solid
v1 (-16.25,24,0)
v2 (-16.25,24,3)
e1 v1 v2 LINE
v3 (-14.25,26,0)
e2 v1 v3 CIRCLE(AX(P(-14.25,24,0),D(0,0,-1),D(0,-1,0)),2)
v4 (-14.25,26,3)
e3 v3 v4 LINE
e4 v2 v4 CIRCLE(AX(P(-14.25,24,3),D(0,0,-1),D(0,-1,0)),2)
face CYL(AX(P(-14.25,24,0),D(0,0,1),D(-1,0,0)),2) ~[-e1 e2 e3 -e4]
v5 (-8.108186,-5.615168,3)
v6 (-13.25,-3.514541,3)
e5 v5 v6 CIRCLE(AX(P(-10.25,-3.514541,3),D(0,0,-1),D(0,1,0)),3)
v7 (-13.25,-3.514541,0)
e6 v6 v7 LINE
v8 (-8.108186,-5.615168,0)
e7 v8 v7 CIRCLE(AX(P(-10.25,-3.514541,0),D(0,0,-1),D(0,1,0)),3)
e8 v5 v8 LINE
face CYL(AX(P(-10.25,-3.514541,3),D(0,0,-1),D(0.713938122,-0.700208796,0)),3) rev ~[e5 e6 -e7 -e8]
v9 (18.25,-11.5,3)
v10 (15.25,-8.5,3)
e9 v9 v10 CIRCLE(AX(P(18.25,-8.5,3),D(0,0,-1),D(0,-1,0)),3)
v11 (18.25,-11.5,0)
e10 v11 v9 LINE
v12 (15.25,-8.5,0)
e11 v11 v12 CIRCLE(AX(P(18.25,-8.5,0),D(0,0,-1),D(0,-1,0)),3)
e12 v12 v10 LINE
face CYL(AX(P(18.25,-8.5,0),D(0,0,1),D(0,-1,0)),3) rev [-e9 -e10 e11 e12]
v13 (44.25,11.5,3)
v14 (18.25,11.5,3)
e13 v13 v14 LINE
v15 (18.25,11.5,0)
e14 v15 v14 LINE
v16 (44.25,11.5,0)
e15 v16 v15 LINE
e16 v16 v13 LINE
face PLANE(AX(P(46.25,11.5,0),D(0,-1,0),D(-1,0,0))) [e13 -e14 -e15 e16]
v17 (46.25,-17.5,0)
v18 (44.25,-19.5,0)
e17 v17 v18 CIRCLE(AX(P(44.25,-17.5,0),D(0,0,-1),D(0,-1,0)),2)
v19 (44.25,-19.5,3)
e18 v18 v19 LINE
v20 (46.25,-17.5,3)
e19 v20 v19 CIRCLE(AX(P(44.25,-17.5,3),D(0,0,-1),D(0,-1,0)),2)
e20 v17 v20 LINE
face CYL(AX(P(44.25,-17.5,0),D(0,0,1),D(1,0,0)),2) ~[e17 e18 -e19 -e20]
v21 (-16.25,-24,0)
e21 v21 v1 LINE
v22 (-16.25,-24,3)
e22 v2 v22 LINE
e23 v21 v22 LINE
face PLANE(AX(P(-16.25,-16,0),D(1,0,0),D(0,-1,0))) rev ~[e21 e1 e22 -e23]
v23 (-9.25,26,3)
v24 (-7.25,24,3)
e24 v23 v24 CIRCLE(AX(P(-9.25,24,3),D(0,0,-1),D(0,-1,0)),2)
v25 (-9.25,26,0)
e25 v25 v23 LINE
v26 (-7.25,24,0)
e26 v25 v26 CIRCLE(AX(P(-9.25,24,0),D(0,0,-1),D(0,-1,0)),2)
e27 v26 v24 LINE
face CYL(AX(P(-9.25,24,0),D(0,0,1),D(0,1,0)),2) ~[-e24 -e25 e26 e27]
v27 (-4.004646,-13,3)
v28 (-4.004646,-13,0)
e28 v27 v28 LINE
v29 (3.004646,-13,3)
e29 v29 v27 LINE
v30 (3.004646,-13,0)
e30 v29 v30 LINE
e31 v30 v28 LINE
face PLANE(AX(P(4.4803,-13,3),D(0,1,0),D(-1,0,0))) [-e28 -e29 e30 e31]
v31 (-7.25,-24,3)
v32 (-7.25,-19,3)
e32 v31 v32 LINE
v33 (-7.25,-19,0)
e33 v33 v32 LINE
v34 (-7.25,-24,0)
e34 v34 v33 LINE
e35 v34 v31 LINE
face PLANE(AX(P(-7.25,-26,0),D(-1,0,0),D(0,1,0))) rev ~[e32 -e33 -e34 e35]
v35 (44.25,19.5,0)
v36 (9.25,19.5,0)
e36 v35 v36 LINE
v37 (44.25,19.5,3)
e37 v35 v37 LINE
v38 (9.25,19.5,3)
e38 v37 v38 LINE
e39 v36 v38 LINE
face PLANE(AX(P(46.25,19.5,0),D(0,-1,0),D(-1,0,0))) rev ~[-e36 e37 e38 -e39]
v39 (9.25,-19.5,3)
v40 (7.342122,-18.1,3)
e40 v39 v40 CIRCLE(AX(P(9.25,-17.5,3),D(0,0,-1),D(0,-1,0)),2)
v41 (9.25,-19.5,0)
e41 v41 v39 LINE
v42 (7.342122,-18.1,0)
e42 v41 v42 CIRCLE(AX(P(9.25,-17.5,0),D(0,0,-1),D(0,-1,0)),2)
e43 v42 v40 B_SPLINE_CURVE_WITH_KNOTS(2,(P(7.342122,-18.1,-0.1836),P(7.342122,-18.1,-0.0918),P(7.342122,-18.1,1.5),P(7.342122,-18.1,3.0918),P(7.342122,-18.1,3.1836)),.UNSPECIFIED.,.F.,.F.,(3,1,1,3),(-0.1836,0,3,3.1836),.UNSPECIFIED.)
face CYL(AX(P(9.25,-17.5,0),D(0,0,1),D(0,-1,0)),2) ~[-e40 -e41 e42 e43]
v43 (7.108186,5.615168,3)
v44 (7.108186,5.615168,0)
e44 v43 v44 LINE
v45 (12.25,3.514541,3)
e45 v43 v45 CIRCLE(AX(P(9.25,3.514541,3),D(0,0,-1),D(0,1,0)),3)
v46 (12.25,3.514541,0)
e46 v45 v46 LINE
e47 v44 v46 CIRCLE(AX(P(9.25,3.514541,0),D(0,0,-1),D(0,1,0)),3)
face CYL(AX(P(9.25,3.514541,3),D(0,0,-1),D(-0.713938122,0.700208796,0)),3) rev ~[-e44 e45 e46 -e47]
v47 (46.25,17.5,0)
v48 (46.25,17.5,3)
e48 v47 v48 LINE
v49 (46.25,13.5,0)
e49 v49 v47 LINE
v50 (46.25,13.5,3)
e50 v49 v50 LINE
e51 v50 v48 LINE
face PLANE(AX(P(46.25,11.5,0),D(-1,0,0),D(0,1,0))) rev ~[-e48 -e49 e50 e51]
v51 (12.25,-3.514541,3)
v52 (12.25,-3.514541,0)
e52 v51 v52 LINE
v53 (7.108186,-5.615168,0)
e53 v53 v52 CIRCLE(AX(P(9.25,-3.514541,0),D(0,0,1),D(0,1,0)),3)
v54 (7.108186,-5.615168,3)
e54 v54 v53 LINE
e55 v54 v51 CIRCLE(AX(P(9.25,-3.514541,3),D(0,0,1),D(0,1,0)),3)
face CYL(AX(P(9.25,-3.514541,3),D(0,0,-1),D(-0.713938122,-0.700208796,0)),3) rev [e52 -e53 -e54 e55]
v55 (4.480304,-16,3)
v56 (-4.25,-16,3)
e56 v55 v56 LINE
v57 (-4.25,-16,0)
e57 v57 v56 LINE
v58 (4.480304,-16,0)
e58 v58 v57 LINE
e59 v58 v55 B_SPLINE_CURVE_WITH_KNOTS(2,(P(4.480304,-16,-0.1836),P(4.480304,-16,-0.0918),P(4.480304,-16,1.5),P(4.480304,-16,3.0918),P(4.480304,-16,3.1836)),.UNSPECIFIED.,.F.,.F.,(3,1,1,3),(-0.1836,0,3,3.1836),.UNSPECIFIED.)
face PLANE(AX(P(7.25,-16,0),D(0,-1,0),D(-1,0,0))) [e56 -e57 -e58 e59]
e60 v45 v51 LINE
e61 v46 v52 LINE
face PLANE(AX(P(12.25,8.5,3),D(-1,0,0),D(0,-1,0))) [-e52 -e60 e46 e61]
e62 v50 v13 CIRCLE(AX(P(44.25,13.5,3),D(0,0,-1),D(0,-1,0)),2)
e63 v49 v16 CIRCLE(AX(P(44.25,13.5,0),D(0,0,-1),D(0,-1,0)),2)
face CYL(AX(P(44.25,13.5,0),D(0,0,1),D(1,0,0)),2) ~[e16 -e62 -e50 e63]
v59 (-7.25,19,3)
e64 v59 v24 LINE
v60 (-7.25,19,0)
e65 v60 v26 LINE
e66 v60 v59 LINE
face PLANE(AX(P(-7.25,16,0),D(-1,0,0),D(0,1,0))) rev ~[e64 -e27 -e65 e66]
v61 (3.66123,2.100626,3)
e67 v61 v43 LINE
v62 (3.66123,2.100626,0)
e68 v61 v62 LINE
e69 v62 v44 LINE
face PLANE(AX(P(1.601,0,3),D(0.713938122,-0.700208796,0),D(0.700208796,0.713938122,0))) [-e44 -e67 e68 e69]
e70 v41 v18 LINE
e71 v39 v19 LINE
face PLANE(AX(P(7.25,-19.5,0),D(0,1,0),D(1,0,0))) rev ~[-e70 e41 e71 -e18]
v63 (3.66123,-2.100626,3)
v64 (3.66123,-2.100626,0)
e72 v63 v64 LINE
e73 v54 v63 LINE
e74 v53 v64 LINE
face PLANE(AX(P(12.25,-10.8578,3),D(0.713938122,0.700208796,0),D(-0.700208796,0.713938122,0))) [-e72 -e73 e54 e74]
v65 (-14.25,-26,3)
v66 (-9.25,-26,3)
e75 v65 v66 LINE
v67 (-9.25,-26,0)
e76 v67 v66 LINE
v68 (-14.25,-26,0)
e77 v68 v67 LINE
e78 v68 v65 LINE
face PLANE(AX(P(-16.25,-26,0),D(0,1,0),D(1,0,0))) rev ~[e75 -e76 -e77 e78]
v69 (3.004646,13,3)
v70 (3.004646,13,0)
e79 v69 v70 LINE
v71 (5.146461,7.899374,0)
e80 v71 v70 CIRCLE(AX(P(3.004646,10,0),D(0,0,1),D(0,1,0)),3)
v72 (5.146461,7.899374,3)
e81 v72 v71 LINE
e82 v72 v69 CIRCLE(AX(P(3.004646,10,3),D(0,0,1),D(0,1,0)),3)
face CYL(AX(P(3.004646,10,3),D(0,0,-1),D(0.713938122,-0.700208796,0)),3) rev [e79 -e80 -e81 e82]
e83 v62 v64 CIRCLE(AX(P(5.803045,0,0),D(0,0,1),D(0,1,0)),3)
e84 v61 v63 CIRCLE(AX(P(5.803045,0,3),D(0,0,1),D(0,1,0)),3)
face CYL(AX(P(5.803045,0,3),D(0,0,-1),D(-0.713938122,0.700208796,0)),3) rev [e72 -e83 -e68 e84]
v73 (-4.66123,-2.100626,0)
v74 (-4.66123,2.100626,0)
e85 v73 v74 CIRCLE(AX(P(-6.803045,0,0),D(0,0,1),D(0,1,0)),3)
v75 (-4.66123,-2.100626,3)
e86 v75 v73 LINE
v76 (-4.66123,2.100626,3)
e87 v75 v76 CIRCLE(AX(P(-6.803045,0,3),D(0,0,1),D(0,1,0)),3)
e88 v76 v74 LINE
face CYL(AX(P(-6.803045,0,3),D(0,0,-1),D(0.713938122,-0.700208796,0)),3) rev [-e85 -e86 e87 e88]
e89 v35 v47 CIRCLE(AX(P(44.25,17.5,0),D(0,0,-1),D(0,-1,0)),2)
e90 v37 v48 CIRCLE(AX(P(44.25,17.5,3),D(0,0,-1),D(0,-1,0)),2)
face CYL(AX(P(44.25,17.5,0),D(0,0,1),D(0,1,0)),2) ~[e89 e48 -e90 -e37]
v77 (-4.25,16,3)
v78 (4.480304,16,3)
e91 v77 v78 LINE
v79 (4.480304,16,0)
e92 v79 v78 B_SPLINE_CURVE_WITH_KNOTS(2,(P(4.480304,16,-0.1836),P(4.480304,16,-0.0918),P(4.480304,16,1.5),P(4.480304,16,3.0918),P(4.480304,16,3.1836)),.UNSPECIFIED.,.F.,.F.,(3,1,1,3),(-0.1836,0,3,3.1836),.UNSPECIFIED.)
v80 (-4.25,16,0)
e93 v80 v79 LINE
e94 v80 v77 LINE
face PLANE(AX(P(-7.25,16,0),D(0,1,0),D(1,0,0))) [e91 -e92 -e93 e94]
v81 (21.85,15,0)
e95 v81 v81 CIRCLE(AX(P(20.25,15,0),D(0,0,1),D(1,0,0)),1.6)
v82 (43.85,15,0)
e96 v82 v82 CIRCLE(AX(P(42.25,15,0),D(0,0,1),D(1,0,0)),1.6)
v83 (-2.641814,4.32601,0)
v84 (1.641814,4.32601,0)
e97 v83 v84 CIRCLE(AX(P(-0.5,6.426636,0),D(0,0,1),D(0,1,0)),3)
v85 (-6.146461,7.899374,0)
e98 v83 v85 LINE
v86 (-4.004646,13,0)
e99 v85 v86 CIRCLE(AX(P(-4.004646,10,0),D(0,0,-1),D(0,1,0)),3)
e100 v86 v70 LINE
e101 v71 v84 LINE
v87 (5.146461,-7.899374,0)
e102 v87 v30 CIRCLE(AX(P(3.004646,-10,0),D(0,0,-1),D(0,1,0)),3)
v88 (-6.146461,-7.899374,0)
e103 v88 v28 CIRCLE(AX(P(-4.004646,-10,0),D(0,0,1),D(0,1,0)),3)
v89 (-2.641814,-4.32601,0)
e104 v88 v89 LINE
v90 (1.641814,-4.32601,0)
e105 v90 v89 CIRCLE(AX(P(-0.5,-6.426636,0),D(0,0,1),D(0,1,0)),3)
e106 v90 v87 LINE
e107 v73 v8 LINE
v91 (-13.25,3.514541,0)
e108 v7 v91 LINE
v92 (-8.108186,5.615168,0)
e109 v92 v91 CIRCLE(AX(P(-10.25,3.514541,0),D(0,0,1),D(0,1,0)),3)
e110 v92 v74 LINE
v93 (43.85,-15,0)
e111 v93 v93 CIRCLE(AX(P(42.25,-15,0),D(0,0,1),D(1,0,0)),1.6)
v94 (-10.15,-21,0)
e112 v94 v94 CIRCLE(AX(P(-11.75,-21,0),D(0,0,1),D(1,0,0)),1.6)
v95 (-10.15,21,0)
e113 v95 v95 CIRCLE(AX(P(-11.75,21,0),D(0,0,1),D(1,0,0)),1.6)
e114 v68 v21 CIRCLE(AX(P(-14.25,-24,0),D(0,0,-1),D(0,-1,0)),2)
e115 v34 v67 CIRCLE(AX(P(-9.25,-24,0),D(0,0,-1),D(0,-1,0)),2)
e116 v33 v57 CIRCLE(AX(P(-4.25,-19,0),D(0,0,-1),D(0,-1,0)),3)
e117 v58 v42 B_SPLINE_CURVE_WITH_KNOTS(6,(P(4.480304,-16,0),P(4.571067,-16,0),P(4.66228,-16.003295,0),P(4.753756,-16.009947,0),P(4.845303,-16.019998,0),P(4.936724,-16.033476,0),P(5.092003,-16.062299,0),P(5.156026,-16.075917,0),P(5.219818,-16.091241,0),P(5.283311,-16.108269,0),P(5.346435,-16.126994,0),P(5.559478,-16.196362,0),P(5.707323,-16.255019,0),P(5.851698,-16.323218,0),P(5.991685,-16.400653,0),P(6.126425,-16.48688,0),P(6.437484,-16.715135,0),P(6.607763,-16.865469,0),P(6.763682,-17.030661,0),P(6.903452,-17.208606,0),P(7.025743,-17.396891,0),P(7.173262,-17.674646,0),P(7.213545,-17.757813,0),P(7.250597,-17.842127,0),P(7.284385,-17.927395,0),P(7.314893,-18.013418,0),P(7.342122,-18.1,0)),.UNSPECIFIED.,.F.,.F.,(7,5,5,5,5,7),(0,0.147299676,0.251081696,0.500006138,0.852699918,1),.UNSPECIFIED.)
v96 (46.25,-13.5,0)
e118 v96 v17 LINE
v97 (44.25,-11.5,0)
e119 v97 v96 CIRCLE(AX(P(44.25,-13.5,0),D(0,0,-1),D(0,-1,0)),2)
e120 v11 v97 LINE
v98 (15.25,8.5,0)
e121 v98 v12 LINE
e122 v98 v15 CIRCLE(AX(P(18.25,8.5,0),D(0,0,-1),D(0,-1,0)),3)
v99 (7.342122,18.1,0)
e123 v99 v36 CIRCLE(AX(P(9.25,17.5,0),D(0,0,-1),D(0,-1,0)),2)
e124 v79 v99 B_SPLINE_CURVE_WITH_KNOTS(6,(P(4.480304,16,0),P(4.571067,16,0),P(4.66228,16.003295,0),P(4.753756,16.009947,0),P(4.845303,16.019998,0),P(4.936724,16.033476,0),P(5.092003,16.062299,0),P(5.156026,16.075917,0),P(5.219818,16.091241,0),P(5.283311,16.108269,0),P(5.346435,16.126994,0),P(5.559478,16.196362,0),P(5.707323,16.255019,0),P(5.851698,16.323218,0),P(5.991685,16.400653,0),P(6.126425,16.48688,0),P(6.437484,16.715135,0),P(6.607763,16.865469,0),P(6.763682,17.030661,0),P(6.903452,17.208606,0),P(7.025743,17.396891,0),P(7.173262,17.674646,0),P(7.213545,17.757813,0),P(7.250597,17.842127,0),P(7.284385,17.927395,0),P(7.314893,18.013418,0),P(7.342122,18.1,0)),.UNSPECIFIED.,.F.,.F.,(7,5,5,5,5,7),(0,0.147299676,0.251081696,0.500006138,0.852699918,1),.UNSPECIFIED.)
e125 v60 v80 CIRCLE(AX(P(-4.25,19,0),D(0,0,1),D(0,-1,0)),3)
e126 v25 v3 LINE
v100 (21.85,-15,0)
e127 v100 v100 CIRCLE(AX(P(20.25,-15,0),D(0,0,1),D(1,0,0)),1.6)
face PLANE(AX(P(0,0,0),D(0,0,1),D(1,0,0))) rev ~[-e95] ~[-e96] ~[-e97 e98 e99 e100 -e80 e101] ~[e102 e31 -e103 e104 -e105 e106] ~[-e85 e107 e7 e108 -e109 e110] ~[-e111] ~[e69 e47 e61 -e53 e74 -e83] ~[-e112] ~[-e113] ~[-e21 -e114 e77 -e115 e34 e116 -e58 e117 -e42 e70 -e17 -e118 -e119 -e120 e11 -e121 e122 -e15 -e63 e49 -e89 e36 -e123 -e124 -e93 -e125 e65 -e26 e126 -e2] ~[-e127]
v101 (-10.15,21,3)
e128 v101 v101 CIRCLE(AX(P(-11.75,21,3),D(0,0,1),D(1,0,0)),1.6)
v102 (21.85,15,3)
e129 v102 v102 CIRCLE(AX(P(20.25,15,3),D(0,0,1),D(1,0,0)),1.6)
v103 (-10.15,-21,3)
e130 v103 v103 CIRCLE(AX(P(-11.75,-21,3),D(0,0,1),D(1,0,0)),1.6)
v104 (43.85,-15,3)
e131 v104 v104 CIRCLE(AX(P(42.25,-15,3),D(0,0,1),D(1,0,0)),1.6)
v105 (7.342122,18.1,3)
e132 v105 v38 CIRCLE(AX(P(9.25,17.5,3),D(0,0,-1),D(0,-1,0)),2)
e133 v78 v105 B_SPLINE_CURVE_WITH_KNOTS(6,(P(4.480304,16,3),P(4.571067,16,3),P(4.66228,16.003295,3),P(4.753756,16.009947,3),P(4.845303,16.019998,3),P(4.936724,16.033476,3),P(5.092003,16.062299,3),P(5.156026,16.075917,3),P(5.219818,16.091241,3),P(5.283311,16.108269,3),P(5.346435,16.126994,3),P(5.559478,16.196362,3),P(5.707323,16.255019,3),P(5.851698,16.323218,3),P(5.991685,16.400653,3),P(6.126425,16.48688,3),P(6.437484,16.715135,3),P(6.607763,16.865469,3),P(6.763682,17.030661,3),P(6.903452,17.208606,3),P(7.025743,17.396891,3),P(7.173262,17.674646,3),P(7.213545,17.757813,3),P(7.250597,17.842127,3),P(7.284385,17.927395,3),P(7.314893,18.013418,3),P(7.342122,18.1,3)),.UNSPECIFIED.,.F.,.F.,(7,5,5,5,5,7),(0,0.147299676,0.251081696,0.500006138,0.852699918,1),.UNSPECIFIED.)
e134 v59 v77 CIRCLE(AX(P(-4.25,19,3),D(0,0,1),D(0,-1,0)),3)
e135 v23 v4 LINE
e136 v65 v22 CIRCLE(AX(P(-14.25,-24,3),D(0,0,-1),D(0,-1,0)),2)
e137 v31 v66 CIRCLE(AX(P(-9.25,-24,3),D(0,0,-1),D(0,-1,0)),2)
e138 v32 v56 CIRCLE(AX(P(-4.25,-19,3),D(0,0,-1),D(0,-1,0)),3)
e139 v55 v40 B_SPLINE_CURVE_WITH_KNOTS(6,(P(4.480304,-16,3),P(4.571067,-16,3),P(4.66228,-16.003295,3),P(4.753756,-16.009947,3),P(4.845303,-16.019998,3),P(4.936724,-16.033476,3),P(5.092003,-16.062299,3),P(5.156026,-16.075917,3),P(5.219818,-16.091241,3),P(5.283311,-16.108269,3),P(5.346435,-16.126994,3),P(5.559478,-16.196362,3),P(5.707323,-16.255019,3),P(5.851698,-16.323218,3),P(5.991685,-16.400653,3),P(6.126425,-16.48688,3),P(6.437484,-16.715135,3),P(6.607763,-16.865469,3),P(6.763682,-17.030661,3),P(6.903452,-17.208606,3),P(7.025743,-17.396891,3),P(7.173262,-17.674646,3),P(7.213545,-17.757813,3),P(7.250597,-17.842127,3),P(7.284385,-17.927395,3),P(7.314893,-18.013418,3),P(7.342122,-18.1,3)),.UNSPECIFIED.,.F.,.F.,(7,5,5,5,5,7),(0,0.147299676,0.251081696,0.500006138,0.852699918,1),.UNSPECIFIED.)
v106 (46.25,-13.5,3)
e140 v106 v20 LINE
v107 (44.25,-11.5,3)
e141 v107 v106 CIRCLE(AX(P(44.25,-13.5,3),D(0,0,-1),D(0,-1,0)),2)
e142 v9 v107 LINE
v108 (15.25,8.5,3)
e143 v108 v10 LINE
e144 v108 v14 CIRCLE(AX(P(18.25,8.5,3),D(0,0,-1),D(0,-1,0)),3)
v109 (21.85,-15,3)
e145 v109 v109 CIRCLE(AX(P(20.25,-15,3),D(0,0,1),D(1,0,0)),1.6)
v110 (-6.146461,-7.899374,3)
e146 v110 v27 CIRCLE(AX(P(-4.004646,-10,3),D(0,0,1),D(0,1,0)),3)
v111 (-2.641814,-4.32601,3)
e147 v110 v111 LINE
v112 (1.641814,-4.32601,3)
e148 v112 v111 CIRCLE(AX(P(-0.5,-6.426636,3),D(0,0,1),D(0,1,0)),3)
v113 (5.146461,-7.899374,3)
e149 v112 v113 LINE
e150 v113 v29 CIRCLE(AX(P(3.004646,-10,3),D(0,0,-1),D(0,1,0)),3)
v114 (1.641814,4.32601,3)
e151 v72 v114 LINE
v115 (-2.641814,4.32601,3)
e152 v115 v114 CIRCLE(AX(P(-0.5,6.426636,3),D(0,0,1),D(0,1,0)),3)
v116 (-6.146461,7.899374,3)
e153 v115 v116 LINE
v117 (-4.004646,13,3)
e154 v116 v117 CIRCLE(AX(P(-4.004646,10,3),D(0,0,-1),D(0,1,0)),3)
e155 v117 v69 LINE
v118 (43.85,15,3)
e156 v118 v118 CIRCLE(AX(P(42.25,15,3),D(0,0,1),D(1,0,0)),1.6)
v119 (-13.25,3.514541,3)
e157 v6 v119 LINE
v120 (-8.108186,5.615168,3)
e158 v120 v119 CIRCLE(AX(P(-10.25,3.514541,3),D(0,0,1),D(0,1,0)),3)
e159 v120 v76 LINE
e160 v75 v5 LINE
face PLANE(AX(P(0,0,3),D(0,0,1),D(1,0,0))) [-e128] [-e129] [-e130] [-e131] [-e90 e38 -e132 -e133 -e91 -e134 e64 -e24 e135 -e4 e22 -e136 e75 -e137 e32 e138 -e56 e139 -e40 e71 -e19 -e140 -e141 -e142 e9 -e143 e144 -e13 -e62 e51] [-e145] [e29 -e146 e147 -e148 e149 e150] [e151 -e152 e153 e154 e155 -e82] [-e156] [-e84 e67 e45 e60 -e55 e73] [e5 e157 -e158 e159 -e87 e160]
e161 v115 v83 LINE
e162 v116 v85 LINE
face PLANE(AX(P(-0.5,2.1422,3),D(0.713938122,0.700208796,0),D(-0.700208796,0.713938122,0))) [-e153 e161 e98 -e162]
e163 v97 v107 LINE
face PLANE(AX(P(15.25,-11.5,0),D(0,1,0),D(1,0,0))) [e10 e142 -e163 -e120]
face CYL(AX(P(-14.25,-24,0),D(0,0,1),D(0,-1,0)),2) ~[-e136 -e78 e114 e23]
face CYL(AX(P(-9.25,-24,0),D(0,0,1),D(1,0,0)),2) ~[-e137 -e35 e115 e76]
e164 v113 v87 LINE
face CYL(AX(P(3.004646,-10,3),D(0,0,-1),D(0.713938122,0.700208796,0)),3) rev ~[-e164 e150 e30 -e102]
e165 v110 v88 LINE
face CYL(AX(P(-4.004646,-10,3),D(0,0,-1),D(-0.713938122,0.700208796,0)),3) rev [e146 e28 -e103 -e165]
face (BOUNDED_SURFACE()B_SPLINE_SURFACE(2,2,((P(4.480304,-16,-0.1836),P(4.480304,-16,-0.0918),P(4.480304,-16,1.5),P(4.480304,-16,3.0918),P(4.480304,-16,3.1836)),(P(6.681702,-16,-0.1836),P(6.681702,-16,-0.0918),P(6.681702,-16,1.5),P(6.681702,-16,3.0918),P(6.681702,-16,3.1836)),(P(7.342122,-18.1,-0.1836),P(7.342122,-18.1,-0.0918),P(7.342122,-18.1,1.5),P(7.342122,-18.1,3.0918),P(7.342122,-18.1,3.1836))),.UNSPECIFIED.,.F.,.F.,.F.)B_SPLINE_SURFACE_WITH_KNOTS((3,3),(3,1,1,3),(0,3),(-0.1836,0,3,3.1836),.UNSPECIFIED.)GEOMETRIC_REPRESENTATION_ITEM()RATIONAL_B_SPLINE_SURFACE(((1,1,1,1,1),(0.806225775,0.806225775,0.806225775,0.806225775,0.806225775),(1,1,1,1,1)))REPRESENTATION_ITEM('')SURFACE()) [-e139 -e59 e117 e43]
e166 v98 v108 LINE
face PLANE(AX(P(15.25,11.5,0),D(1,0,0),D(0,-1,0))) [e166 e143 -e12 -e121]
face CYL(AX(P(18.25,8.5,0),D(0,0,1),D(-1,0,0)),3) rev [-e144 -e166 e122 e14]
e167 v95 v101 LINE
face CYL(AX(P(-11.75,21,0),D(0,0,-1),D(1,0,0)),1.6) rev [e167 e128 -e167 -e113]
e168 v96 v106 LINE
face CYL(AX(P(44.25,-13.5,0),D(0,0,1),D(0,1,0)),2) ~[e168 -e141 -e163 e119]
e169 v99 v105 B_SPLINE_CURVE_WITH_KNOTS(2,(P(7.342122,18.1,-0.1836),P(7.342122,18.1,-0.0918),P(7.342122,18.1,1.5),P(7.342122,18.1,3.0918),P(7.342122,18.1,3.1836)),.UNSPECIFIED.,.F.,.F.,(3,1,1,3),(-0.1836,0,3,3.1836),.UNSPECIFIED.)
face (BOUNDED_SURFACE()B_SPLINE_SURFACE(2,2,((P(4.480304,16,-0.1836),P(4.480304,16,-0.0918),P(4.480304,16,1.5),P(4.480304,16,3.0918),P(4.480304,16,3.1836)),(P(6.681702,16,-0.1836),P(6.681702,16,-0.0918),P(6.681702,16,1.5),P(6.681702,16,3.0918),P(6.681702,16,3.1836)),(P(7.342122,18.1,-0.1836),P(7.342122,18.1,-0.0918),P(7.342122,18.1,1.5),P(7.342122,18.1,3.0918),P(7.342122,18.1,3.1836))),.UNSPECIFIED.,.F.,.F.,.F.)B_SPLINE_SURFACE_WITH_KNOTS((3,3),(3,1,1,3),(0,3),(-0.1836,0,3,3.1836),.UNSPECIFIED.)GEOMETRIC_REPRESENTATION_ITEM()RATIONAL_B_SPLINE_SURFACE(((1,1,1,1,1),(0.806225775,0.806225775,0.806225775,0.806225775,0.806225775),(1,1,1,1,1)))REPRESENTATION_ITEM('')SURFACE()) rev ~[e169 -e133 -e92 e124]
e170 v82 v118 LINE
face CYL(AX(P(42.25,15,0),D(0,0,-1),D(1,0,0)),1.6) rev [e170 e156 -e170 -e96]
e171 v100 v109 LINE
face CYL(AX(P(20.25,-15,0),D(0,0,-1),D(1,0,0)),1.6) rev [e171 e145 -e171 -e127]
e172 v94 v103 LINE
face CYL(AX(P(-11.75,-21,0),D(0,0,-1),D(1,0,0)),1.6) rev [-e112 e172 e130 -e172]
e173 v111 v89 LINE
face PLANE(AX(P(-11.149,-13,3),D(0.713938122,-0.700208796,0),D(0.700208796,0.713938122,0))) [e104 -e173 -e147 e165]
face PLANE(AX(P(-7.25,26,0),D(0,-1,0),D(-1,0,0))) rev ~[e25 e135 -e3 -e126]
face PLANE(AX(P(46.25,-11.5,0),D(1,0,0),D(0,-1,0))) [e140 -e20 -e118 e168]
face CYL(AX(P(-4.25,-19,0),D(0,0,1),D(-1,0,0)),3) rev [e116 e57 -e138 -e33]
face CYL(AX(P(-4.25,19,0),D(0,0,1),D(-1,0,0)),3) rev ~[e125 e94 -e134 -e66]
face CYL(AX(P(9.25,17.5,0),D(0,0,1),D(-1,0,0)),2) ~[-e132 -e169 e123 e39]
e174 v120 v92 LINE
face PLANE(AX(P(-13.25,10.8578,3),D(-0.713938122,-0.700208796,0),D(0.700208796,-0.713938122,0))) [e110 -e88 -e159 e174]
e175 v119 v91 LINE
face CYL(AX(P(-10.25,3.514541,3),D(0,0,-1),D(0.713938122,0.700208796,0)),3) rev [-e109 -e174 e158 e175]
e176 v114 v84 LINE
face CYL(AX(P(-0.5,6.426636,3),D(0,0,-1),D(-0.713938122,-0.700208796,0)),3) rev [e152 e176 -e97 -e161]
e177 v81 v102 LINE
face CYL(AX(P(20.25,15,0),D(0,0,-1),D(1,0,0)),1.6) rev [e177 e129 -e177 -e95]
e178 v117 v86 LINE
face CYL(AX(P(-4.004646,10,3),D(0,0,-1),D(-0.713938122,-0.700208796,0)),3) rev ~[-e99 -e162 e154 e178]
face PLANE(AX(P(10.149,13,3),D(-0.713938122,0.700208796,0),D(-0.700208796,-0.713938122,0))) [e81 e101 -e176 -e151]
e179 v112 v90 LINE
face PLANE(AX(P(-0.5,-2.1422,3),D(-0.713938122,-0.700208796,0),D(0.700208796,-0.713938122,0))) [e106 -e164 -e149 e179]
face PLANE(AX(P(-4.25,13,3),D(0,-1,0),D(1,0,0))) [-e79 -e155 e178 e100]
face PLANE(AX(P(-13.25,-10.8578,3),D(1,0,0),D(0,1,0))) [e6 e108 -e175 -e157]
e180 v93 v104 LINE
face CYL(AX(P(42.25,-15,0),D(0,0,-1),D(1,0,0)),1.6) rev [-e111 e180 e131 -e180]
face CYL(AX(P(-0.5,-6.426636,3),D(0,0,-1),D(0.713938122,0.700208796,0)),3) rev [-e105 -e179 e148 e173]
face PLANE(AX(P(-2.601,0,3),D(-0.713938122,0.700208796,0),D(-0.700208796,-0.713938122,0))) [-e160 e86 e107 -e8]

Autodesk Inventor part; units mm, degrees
ref_plane "YZ Plane" through (0, 0, 0) normal (1, 0, 0) x (0, 1, 0)
ref_plane "XZ Plane" through (0, 0, 0) normal (0, 1, 0) x (-1, 0, 0)
ref_plane "XY Plane" through (0, 0, 0) normal (0, 0, 1) x (1, 0, 0)
sketch "スケッチ1" plane through (0, 0, 0) normal (0, 0, 1) x (1, 0, 0)
  line L0 (7.25, -16) -> (-7.25, -16)
  line L1 (-16.25, -16) -> (-16.25, 16)
  line L2 (-7.25, 16) -> (7.25, 16)
  line L3 (16.25, -16) -> (-16.25, 16) construction
  line L4 (-16.25, -16) -> (16.25, 16) construction
  line L5 (16.25, 0) -> (46.25, 0) construction
  line L6 (46.25, -10.5) -> (16.25, -10.5) construction
  line L7 (16.25, 10.5) -> (46.25, 10.5) construction
  line L8 (46.25, 10.5) -> (46.25, -10.5) construction
  line L9 (46.25, -10.5) -> (16.25, 10.5) construction
  line L10 (16.25, -10.5) -> (46.25, 10.5) construction
  line L11 (46.25, 11.5) -> (15.25, 11.5)
  line L12 (15.25, 11.5) -> (15.25, -11.5)
  line L13 (15.25, -11.5) -> (46.25, -11.5)
  line L14 (46.25, 19.5) -> (7.25, 19.5)
  line L15 (7.25, -19.5) -> (46.25, -19.5)
  line L16 (46.25, 11.5) -> (46.25, 19.5)
  line L17 (46.25, -11.5) -> (46.25, -19.5)
  line L18 (16.25, 10.5) -> (16.25, -10.5) construction
  line L19 (7.25, 19.5) -> (7.25, 16)
  line L20 (7.25, -16) -> (7.25, -19.5)
  line L21 (-16.25, -16) -> (-16.25, -26)
  line L22 (-16.25, -26) -> (-7.25, -26)
  line L23 (-7.25, 26) -> (-16.25, 26)
  line L24 (-16.25, 26) -> (-16.25, 16)
  line L25 (-11.75, 26) -> (-11.75, -26) construction
  line L26 (-11.75, 0) -> (-16.25, 0) construction
  circle A0 centre (-11.75, -21) radius 1.6
  line L27 (-7.25, -26) -> (-7.25, -16)
  line L28 (-7.25, 16) -> (-7.25, 26)
  circle A1 centre (-11.75, 21) radius 1.6
  line L29 (46.25, 10.5) -> (16.25, 10.5) construction
  line L30 (31.25, 10.5) -> (31.25, 19.5) construction
  line L31 (31.25, 15) -> (46.25, 15) construction
  circle A2 centre (37.05, 15) radius 1.6 construction
  circle A3 centre (42.25, 15) radius 1.6
  circle A4 centre (25.45, 15) radius 1.6 construction
  circle A5 centre (20.25, 15) radius 1.6
  circle A6 centre (37.05, -15) radius 1.6 construction
  circle A7 centre (42.25, -15) radius 1.6
  circle A8 centre (25.45, -15) radius 1.6 construction
  circle A9 centre (20.25, -15) radius 1.6
  point P0 (0, 0)
  point P1 (31.25, 0)
  dimension "d21" = 32.5
  dimension "d22" = 32
  dimension "d24" = 30
  dimension "d25" = 21
  dimension "d26" = 1
  dimension "d28" = 30
  dimension "d30" = 9
  dimension "d32" = 9
  dimension "d33" = 3.2
  dimension "d34" = 5
  dimension "d35" = 10
  dimension "d36" = 8
  dimension "d37" = 31
  dimension "d38" = 3.5
  dimension "d39" = 35.5
  dimension "d40" = 9
  dimension "d41" = 3.2
  dimension "d42" = 3.2
  dimension "d43" = 4
  dimension "d44" = 31
  dimension "d46" = 2
extrude "押し出し1" add sketch "スケッチ1" along normal blind 3
fillet "フィレット1" radius 2 10 edges at (7.25, 19.5, 1.5) (-7.25, 26, 1.5) (-16.25, 26, 1.5) (46.25, 19.5, 1.5) (46.25, 11.5, 1.5) (46.25, -11.5, 1.5) (46.25, -19.5, 1.5) (7.25, -19.5, 1.5) (-7.25, -26, 1.5) (-16.25, -26, 1.5)
fillet "フィレット2" radius 3 6 edges at (15.25, -11.5, 1.5) (15.25, 11.5, 1.5) (7.25, 16, 1.5) (7.25, -16, 1.5) (-7.25, -16, 1.5) (-7.25, 16, 1.5)
sketch "スケッチ2" plane through (0, 0, 3) normal (0, 0, 1) x (1, 0, 0)
  arc A0 (-16.25, -24) -> (-14.25, -26) centre (-14.25, -24) ccw projected
  line L0 (-14.25, -26) -> (-9.25, -26) projected
  arc A1 (-9.25, -26) -> (-7.25, -24) centre (-9.25, -24) ccw projected
  line L1 (-7.25, -24) -> (-7.25, -19) projected
  arc A2 (-4.25, -16) -> (-7.25, -19) centre (-4.25, -19) ccw projected
  line L2 (-4.25, -16) -> (4.4803, -16) projected
  arc A3 (7.3421, -18.1) -> (4.4803, -16) centre (4.4803, -19) ccw projected
  arc A4 (7.3421, -18.1) -> (9.25, -19.5) centre (9.25, -17.5) ccw projected
  line L3 (9.25, -19.5) -> (44.25, -19.5) projected
  arc A5 (44.25, -19.5) -> (46.25, -17.5) centre (44.25, -17.5) ccw projected
  line L4 (46.25, -17.5) -> (46.25, -13.5) projected
  arc A6 (46.25, -13.5) -> (44.25, -11.5) centre (44.25, -13.5) ccw projected
  line L5 (44.25, -11.5) -> (18.25, -11.5) projected
  arc A7 (15.25, -8.5) -> (18.25, -11.5) centre (18.25, -8.5) ccw projected
  line L6 (15.25, -8.5) -> (15.25, 8.5) projected
  arc A8 (18.25, 11.5) -> (15.25, 8.5) centre (18.25, 8.5) ccw projected
  line L7 (18.25, 11.5) -> (44.25, 11.5) projected
  arc A9 (44.25, 11.5) -> (46.25, 13.5) centre (44.25, 13.5) ccw projected
  line L8 (46.25, 13.5) -> (46.25, 17.5) projected
  arc A10 (46.25, 17.5) -> (44.25, 19.5) centre (44.25, 17.5) ccw projected
  line L9 (44.25, 19.5) -> (9.25, 19.5) projected
  arc A11 (9.25, 19.5) -> (7.3421, 18.1) centre (9.25, 17.5) ccw projected
  arc A12 (4.4803, 16) -> (7.3421, 18.1) centre (4.4803, 19) ccw projected
  line L10 (4.4803, 16) -> (-4.25, 16) projected
  arc A13 (-7.25, 19) -> (-4.25, 16) centre (-4.25, 19) ccw projected
  line L11 (-7.25, 19) -> (-7.25, 24) projected
  arc A14 (-7.25, 24) -> (-9.25, 26) centre (-9.25, 24) ccw projected
  line L12 (-9.25, 26) -> (-14.25, 26) projected
  arc A15 (-14.25, 26) -> (-16.25, 24) centre (-14.25, 24) ccw projected
  line L13 (-16.25, 24) -> (-16.25, -24) projected
  circle A16 centre (42.25, -15) radius 1.6 projected
  circle A17 centre (20.25, -15) radius 1.6 projected
  circle A18 centre (20.25, 15) radius 1.6 projected
  circle A19 centre (42.25, 15) radius 1.6 projected
  circle A20 centre (-11.75, 21) radius 1.6 projected
  circle A21 centre (-11.75, -21) radius 1.6 projected
  circle A22 centre (-11.75, 21) radius 4.6
  circle A23 centre (-11.75, -21) radius 4.6
  line L14 (4.4803, -13) -> (-4.25, -13)
  arc A24 (-9.8384, -16.816) -> (-10.25, -19) centre (-4.25, -19) ccw
  line L15 (-10.25, -19) -> (-10.25, -23)
  line L16 (-10.25, -23) -> (-13.25, -23)
  line L17 (-13.25, 23) -> (-10.25, 23)
  line L18 (-10.25, 23) -> (-10.25, 19)
  arc A25 (-10.25, 19) -> (-9.8384, 16.816) centre (-4.25, 19) ccw
  line L19 (-4.25, 13) -> (4.4803, 13)
  line L20 (9.9347, 16.5) -> (43.25, 16.5)
  line L21 (43.25, 16.5) -> (43.25, 14.5)
  line L22 (43.25, 14.5) -> (18.25, 14.5)
  line L23 (12.25, 8.5) -> (12.25, -8.5)
  arc A26 (14.6318, -13.2863) -> (18.25, -14.5) centre (18.25, -8.5) ccw
  line L24 (18.25, -14.5) -> (43.25, -14.5)
  line L25 (43.25, -14.5) -> (43.25, -16.5)
  line L26 (43.25, -16.5) -> (9.9347, -16.5)
  circle A27 centre (20.25, 15) radius 4.6
  line L27 (-4.25, 13) -> (-11.149, 13)
  line L28 (-4.25, -13) -> (-11.149, -13)
  line L29 (12.25, -8.5) -> (12.25, -10.8578)
  line L30 (12.25, 8.5) -> (12.25, 10.8578)
  line L31 (-13.25, 13) -> (12.25, -13) construction
  line L32 (12.25, 13) -> (-13.25, -13) construction
  line L33 (-13.25, 14.5) -> (-13.25, 23)
  line L34 (4.4803, 13) -> (10.149, 13)
  arc A28 (18.25, 14.5) -> (15.7685, 13.9628) centre (18.25, 8.5) ccw
  line L35 (-13.25, -23) -> (-13.25, -16.6514)
  line L36 (-13.25, -10.8578) -> (-13.25, 10.8578)
  line L37 (10.149, 13) -> (-0.5, 2.1422)
  line L38 (-2.601, 0) -> (-13.25, -10.8578)
  line L39 (-11.149, -13) -> (-0.5, -2.1422)
  line L40 (1.601, 0) -> (12.25, 10.8578)
  line L41 (-13.25, 10.8578) -> (-2.601, 0)
  line L42 (-0.5, -2.1422) -> (10.149, -13)
  line L43 (12.25, -10.8578) -> (1.601, 0)
  line L44 (-0.5, 2.1422) -> (-11.149, 13)
  line L45 (4.4803, -13) -> (10.149, -13)
  arc A29 (9.9347, -16.5) -> (9.3557, -15.5028) centre (4.4803, -19) ccw
  point P0 (0, 0)
  point P1 (-0.5, 0)
  point P2 (-0.5, 0)
  dimension "d51" = 3
  dimension "d52" = 3
  dimension "d53" = 3
  dimension "d54" = 3
extrude "押し出し2" cut sketch "スケッチ2" against normal through all contours L14 L28 L39 L42 L45 | L19 L34 L37 L44 L27 | L23 L29 L43 L40 L30 | L36 L41 L38
fillet "フィレット3" radius 3 12 edges at (-11.149, 13, 1.5) (10.149, 13, 1.5) (-0.5, 2.1422, 1.5) (-13.25, 10.8578, 1.5) (-13.25, -10.8578, 1.5) (-2.601, 0, 1.5) (-0.5, -2.1422, 1.5) (-11.149, -13, 1.5) (10.149, -13, 1.5) (1.601, 0, 1.5) (12.25, 10.8578, 1.5) (12.25, -10.8578, 1.5)
properties part number "肩ピッチ固定板_アルミ(A2017)_t3" material "アルミニウム 2014-T6"
